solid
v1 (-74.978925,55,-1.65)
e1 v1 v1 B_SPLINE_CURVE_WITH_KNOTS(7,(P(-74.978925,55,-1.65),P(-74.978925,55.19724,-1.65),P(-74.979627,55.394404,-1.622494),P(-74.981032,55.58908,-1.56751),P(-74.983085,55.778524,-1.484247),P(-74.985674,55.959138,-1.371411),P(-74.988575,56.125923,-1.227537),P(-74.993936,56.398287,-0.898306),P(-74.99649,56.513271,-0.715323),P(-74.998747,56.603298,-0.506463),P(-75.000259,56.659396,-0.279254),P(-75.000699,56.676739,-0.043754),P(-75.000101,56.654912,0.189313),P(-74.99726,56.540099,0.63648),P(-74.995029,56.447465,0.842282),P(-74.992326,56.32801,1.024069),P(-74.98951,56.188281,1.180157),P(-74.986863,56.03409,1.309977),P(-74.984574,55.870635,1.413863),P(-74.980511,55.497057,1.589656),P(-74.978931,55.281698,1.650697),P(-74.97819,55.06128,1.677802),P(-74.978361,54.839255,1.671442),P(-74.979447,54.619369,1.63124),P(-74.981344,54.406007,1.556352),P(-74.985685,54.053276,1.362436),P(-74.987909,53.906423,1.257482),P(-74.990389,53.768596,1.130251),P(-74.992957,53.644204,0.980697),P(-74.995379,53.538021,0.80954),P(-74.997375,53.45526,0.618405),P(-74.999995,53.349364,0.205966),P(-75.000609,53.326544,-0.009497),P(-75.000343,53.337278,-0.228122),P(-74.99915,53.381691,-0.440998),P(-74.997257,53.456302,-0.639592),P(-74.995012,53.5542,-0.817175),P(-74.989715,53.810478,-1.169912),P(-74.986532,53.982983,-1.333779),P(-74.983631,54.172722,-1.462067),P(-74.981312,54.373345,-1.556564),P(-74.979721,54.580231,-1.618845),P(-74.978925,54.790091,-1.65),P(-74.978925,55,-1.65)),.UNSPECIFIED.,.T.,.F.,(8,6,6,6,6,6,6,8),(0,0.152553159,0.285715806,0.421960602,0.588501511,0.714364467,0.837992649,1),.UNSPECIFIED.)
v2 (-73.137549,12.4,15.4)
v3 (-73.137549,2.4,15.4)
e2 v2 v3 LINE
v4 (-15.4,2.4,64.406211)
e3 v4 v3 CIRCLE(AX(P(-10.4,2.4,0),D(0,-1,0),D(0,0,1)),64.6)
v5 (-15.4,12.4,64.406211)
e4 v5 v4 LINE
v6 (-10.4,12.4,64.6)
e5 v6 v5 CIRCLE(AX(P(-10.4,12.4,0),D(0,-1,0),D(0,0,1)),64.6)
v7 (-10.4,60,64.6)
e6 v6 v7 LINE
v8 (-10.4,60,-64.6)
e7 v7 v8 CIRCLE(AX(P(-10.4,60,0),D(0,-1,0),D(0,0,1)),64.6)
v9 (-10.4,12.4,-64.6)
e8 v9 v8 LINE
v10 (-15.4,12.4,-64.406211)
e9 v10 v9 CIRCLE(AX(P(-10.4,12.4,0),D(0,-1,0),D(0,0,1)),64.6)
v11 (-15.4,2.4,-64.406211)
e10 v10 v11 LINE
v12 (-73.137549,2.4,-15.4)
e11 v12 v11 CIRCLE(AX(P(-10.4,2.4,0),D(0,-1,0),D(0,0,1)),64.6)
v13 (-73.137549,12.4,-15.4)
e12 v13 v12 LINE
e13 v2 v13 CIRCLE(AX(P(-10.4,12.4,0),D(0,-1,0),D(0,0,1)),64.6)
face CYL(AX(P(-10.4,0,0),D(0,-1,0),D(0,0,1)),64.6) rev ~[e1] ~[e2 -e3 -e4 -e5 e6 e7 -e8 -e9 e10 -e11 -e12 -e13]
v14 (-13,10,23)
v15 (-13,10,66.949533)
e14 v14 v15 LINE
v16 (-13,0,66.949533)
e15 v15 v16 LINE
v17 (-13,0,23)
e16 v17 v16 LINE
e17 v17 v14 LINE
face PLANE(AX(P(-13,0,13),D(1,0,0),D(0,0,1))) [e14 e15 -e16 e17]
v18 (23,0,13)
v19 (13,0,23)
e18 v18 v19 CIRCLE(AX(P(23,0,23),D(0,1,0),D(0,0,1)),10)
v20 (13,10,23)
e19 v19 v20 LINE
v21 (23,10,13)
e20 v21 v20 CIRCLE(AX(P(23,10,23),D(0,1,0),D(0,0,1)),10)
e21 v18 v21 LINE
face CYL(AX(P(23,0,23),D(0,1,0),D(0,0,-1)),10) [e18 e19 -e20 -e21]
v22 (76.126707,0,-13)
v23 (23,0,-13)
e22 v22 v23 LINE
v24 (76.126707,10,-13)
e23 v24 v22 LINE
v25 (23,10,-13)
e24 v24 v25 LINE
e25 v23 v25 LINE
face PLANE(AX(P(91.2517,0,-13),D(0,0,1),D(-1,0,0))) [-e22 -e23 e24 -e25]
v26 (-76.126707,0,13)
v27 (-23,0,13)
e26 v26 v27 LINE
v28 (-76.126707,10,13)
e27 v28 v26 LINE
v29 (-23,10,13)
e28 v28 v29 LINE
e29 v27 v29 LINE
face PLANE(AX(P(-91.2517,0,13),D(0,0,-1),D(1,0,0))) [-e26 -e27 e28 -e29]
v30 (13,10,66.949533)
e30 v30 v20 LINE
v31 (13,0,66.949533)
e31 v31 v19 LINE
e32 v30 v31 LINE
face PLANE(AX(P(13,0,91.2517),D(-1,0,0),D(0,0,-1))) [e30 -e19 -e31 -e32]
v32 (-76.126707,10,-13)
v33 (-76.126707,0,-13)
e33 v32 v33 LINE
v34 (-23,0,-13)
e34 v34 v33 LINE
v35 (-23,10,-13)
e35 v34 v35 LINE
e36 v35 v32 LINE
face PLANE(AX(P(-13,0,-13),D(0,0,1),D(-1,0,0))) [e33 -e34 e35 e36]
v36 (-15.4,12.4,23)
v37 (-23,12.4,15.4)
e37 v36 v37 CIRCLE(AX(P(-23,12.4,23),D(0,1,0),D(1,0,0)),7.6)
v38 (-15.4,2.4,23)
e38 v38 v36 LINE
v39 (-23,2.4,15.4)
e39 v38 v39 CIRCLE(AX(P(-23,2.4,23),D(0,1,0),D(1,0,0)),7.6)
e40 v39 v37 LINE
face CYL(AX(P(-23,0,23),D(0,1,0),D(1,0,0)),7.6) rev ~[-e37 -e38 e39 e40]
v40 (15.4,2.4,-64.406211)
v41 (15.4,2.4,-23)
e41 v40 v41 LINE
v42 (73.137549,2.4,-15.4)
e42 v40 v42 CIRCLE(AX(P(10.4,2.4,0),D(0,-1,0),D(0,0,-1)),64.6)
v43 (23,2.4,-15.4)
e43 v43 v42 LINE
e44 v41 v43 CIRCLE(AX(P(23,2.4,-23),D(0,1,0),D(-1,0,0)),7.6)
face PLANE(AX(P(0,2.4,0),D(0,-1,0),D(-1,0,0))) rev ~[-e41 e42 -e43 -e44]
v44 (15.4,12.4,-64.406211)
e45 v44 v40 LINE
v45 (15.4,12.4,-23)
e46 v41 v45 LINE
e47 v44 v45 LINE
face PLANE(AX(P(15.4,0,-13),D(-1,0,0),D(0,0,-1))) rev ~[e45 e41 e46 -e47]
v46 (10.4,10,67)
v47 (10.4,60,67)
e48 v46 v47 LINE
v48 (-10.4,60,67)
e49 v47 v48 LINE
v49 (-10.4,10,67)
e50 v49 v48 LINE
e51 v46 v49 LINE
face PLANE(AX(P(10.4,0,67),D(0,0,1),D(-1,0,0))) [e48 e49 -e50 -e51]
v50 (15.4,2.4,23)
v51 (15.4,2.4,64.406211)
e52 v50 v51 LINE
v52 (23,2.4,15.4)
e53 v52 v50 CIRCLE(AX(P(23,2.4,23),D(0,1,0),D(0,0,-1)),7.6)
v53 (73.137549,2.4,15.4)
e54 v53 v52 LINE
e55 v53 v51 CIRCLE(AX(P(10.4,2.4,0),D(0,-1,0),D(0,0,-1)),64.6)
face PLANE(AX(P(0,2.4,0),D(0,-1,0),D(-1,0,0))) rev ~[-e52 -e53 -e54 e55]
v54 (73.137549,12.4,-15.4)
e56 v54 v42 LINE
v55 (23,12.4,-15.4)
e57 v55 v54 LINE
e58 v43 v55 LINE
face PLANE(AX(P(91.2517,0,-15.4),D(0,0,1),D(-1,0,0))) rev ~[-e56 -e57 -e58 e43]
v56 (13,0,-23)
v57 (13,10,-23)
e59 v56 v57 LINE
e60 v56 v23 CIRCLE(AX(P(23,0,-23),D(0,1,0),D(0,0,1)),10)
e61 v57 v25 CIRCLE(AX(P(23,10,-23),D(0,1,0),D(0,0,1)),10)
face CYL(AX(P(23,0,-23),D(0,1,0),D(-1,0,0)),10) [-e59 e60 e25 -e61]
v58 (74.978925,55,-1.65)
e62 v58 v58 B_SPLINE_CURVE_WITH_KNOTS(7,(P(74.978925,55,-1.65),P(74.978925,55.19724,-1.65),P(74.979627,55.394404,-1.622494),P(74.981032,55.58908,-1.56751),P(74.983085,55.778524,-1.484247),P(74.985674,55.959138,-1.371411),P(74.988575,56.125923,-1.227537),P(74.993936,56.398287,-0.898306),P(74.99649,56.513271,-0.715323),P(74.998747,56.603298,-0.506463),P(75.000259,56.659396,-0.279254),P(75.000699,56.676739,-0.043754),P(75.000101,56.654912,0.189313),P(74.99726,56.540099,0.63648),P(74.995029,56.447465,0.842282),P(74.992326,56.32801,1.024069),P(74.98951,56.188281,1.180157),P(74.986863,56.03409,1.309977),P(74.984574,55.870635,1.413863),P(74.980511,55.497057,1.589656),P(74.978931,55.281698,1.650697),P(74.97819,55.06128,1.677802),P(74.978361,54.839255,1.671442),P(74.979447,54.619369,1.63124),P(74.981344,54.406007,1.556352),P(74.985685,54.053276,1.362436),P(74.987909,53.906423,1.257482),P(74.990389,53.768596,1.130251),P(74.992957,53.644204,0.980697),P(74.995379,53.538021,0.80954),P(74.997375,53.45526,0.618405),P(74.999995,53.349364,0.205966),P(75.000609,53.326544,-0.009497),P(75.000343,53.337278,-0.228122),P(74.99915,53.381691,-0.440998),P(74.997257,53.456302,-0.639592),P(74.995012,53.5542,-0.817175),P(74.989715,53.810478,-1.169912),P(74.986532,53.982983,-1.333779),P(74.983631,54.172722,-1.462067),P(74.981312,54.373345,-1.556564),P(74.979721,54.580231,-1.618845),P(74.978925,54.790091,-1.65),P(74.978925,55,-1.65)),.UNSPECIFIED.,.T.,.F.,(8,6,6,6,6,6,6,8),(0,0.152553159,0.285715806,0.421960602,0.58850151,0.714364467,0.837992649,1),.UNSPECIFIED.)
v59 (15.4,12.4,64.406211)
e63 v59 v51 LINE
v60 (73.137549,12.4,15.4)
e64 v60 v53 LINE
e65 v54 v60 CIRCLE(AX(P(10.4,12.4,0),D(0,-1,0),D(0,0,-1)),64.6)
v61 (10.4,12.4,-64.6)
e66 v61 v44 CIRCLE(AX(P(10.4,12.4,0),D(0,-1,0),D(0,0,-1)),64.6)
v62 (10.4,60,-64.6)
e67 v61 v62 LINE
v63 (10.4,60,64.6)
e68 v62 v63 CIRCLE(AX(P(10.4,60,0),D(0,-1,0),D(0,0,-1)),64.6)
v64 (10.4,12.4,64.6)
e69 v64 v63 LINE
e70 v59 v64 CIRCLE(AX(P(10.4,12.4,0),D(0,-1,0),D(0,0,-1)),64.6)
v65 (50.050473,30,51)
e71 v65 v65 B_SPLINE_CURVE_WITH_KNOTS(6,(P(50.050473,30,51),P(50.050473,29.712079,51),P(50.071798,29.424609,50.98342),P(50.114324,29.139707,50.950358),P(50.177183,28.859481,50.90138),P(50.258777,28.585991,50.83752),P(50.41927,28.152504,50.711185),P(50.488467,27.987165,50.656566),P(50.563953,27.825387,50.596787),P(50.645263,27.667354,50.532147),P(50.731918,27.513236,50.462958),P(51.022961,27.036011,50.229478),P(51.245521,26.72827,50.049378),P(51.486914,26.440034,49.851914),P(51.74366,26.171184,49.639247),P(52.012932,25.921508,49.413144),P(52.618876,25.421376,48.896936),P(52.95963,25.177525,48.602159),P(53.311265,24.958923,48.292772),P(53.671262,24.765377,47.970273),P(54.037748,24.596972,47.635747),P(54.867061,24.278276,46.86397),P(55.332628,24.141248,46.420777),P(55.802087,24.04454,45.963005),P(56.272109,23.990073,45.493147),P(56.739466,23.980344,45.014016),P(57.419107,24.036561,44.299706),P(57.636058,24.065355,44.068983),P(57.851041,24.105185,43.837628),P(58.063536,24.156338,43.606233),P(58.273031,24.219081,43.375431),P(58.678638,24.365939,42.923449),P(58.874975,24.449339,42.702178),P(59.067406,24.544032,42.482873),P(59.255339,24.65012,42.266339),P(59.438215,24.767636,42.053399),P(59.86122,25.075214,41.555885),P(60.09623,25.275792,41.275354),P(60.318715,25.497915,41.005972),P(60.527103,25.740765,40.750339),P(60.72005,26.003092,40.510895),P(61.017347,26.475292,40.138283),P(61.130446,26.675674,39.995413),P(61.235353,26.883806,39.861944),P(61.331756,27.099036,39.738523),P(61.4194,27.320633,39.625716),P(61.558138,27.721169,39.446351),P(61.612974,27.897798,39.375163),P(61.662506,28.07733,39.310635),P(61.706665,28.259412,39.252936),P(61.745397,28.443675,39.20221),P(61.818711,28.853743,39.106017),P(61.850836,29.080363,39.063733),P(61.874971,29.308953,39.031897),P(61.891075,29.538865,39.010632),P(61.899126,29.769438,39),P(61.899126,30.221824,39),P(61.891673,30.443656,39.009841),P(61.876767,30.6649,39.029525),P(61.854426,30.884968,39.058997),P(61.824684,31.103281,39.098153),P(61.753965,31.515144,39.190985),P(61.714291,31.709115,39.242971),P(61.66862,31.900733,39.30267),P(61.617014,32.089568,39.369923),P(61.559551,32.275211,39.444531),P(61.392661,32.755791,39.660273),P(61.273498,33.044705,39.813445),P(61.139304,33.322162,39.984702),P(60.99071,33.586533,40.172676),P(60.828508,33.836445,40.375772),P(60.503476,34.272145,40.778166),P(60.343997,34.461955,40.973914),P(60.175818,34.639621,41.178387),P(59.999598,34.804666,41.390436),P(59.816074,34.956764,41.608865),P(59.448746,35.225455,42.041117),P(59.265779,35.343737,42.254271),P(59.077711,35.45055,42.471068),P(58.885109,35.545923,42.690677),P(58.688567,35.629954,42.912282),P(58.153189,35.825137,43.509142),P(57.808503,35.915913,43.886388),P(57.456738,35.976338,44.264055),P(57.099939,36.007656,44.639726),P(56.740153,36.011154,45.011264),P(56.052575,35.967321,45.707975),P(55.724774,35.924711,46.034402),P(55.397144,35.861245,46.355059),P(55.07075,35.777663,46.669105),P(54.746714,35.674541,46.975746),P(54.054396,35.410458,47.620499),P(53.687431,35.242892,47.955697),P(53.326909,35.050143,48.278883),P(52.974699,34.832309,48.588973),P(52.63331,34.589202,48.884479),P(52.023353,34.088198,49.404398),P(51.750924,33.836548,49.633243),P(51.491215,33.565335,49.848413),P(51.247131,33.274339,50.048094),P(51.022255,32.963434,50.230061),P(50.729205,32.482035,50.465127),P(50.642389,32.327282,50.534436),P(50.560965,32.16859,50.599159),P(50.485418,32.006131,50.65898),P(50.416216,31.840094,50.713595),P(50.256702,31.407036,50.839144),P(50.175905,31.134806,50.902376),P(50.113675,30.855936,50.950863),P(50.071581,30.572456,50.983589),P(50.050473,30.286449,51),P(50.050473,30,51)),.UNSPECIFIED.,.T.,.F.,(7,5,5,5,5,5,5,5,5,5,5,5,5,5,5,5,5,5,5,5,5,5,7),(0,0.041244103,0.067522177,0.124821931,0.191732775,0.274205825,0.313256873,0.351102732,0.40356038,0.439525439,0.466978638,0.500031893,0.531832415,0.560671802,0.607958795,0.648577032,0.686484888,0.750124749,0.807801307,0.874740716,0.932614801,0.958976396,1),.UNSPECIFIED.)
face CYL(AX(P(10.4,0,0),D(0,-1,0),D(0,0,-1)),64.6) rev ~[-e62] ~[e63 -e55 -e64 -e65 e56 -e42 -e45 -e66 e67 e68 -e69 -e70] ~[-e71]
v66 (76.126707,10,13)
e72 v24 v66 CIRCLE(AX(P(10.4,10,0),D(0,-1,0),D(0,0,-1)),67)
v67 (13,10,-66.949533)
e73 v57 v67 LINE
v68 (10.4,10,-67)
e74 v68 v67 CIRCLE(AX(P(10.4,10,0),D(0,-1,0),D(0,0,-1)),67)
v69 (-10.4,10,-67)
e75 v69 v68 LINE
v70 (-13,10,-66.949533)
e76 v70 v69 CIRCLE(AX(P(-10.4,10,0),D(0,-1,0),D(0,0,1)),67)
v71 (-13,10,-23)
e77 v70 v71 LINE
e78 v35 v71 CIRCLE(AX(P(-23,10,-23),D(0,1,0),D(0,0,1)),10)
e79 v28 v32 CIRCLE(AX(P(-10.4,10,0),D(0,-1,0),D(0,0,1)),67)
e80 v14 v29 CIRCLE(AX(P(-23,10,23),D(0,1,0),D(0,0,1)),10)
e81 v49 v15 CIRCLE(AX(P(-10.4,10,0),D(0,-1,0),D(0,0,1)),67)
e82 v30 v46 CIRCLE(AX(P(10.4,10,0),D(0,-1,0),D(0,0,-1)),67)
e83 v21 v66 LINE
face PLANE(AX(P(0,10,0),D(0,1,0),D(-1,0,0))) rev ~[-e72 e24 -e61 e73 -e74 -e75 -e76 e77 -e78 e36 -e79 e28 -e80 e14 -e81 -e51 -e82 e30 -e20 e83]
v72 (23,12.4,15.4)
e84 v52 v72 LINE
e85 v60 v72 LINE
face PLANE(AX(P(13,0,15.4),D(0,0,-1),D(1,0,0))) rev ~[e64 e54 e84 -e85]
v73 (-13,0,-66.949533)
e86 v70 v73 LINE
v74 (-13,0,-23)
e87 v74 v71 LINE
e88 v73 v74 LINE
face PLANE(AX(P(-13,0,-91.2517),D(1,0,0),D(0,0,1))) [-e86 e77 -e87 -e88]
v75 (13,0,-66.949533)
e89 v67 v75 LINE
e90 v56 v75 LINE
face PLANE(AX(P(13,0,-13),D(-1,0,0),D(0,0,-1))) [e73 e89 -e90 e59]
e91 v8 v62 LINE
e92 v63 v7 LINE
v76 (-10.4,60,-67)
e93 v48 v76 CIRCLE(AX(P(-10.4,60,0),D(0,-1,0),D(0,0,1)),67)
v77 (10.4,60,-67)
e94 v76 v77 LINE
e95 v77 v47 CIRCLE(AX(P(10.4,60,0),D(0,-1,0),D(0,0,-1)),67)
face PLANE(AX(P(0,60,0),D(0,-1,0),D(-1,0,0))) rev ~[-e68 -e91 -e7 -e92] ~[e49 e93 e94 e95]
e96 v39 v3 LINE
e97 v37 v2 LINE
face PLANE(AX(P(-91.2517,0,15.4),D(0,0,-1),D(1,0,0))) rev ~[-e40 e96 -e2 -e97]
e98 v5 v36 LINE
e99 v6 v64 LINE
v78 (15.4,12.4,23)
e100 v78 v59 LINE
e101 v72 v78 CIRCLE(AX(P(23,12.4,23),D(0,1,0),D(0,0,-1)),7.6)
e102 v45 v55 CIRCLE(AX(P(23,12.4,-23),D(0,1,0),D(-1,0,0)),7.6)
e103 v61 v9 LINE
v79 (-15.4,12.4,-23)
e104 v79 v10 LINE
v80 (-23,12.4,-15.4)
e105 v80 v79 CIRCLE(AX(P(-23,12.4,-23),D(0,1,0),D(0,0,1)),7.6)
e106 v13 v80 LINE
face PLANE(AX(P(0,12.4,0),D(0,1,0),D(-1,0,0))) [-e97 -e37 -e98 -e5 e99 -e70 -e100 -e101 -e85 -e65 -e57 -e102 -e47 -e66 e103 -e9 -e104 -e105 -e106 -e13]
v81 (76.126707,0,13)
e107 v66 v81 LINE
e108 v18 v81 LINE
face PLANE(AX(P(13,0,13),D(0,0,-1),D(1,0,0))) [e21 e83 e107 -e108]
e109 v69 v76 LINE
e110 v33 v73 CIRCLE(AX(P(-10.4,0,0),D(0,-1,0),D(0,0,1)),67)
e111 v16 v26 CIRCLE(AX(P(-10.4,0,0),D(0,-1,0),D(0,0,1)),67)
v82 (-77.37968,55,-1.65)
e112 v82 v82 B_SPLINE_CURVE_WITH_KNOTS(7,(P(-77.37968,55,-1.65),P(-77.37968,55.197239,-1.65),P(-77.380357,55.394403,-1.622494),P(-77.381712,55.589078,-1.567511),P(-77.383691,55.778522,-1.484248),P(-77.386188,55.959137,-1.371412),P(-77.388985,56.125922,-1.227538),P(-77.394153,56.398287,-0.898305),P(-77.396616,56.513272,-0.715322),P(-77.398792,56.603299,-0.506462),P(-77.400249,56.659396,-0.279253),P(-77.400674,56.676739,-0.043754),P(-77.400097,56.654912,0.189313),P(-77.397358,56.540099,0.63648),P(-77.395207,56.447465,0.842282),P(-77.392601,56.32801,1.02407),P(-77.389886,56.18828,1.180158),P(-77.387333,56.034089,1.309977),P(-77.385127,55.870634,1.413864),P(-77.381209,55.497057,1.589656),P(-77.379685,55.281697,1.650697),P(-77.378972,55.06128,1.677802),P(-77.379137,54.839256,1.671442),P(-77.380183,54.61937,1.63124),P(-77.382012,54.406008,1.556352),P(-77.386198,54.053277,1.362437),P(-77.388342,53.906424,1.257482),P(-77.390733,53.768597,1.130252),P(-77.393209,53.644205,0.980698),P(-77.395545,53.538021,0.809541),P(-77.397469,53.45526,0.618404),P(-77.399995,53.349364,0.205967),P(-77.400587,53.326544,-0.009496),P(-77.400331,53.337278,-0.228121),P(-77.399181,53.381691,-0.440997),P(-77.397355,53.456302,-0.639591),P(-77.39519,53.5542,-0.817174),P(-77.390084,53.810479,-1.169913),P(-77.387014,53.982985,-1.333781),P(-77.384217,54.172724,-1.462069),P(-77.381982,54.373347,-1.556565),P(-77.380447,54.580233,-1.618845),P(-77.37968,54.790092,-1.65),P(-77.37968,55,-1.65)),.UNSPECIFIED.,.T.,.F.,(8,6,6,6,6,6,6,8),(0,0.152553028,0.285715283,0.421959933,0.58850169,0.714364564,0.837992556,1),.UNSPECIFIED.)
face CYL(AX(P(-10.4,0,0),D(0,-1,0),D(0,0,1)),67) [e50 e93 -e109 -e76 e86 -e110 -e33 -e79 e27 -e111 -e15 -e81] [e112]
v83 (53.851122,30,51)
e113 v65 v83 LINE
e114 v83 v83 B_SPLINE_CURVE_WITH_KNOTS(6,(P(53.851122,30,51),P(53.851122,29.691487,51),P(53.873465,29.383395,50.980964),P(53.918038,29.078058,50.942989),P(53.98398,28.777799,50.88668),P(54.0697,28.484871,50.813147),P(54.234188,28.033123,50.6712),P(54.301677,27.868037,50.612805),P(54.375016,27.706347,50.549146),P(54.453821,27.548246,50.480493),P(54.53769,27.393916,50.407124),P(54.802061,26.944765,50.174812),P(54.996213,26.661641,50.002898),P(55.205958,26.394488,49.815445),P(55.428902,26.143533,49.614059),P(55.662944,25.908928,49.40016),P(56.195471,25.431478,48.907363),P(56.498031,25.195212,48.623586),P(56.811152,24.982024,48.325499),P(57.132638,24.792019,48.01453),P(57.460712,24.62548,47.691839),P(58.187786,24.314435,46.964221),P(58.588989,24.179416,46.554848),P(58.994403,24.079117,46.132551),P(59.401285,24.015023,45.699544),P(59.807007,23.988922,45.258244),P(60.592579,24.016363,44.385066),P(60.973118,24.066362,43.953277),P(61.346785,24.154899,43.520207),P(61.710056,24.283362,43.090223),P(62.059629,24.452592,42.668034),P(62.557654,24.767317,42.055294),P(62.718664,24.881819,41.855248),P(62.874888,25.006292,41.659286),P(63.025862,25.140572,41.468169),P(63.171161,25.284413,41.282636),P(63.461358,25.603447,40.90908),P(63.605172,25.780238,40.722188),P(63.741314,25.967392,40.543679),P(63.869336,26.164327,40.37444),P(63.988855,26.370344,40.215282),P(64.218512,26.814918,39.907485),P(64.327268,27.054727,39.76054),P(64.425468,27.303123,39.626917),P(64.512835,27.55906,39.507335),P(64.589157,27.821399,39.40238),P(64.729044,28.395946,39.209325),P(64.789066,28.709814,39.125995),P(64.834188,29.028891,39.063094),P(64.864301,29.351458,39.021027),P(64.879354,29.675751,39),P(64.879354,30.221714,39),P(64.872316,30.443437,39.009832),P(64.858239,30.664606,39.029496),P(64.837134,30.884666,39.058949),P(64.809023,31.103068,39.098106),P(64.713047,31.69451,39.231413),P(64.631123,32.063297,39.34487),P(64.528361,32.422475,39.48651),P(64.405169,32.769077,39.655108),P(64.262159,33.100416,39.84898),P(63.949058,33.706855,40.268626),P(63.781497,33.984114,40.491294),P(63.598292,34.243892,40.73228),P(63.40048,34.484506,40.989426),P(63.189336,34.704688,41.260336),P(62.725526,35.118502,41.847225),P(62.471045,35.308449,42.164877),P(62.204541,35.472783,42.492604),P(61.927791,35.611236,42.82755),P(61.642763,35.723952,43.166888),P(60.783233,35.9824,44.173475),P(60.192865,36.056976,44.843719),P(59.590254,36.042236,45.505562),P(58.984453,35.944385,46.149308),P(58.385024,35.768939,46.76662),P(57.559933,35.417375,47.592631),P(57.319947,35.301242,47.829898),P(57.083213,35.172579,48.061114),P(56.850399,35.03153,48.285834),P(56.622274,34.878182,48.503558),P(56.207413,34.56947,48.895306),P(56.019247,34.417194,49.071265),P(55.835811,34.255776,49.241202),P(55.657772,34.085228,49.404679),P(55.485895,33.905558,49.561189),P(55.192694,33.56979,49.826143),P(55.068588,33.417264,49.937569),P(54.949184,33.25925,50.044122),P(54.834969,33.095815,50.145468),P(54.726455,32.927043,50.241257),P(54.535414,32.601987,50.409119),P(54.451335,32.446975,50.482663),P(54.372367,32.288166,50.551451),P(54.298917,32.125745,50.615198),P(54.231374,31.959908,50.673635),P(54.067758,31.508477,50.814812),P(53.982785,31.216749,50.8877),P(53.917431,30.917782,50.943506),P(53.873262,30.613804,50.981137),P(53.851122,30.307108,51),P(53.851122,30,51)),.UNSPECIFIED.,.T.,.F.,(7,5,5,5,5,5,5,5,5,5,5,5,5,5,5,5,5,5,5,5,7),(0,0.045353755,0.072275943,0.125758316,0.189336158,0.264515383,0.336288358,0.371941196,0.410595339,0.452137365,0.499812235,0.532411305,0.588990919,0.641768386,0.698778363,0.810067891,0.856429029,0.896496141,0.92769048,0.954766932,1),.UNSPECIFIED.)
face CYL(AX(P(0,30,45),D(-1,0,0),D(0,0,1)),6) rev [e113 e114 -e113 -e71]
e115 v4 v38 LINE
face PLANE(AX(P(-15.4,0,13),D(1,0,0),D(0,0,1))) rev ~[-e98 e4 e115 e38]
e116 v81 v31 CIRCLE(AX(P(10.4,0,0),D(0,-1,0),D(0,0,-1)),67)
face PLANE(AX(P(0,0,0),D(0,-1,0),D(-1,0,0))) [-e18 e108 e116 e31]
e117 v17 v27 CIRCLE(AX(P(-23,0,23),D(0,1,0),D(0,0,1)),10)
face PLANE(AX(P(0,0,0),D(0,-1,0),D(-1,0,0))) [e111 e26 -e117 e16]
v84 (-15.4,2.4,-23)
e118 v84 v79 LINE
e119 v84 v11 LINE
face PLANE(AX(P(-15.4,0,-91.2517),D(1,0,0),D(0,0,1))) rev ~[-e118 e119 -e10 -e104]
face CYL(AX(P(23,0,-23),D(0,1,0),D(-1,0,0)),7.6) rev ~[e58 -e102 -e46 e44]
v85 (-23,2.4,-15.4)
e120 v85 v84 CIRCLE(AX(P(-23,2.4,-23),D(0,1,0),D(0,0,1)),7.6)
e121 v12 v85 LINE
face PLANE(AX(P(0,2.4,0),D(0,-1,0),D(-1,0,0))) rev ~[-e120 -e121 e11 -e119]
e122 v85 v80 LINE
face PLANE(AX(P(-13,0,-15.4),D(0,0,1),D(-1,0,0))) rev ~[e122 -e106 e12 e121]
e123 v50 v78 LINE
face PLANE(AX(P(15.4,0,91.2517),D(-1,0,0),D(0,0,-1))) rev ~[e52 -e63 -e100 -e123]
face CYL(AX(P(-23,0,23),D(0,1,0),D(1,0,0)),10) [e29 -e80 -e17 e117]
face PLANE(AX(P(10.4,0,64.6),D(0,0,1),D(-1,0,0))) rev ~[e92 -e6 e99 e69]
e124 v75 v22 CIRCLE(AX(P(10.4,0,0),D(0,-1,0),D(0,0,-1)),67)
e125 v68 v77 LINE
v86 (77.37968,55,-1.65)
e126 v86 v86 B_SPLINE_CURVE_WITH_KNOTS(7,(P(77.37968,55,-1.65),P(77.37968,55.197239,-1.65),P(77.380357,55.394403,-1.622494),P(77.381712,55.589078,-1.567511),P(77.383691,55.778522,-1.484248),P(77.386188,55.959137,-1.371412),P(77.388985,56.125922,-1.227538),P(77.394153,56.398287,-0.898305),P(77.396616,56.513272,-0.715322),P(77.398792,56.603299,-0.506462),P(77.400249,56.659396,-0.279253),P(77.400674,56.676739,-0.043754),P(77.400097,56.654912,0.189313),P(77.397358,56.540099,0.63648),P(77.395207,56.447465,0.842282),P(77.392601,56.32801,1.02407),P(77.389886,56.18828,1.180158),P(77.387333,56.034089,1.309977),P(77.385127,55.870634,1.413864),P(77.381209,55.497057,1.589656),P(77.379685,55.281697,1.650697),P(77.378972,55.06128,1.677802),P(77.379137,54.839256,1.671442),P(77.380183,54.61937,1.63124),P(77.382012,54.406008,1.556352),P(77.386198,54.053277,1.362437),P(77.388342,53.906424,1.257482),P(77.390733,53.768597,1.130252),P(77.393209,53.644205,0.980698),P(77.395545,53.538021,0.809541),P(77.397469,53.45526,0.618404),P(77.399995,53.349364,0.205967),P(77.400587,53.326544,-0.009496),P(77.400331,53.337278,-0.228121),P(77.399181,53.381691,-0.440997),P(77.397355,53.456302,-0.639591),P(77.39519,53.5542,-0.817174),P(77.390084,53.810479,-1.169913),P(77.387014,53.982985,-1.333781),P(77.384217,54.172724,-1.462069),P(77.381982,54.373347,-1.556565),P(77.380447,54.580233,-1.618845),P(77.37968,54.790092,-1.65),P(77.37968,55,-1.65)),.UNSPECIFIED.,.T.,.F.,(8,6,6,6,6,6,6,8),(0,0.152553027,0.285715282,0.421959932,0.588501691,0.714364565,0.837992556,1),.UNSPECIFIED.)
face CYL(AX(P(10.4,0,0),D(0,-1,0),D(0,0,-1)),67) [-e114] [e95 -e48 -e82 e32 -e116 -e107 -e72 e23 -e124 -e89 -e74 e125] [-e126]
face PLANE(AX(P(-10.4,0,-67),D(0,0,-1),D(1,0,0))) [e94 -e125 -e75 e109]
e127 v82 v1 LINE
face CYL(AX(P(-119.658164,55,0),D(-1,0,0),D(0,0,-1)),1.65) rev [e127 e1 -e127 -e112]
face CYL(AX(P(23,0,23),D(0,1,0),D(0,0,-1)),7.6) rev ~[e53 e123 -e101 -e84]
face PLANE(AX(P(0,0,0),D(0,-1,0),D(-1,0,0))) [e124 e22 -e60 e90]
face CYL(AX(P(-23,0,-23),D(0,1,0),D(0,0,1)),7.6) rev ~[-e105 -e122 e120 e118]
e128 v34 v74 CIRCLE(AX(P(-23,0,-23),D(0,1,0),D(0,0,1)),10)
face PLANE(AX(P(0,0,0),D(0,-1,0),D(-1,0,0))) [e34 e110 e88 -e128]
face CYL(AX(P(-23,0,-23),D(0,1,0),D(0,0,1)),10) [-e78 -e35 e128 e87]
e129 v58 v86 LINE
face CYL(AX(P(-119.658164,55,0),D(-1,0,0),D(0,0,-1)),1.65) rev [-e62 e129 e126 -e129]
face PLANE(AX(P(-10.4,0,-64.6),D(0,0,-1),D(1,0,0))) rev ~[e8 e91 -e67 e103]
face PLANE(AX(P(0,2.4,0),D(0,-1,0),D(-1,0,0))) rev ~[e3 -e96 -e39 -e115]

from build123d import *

# Parameters (mm, degrees)
BOSS_EXTRUDE1_DEPTH     = 60
CUT_EXTRUDE1_DEPTH      = 10
FILLET1_R               = 10
SHELL1_T                = -2.4
CUT_EXTRUDE2_DEPTH      = 119.658164489
CUT_EXTRUDE2_DEPTH_BACK = 119.658164489
SKETCH3_R               = 1.65
SKETCH4_R               = 6
CUT_EXTRUDE3_DEPTH      = 119.658164667


with BuildPart() as part:
    # Sketch1 → Boss-Extrude1 (new body)
    with BuildSketch(Plane(origin=(0, 0, 0), x_dir=(1, 0, 0), z_dir=(0, 1, 0))):
        with BuildLine():
            Line((-10.4, 67), (10.4, 67))
            ThreePointArc((10.4, 67), (77.4, 0), (10.4, -67))
            Line((10.4, -67), (-10.4, -67))
            ThreePointArc((-10.4, -67), (-77.4, 0), (-10.4, 67))
        make_face()
    extrude(amount=BOSS_EXTRUDE1_DEPTH)

    # Sketch2 → Cut-Extrude1 (cut)
    with BuildSketch(Plane.XZ):
        Polygon((-91.251700072, 13), (-13, 13), (-13, 91.251700072), (13, 91.251700072), (13, 13), (91.251700072, 13), (91.251700072, -13), (13, -13), (13, -91.251700072), (-13, -91.251700072), (-13, -13), (-91.251700072, -13), align=None)
    extrude(amount=-CUT_EXTRUDE1_DEPTH, mode=Mode.SUBTRACT)

    # Fillet1
    fillet1_edges = [part.edges().sort_by_distance(p)[0] for p in [
        (-13, 5, 13),
        (13, 5, 13),
        (13, 5, -13),
        (-13, 5, -13),
    ]]
    fillet(fillet1_edges, radius=FILLET1_R)

    # Shell1
    shell1_openings = [part.faces().sort_by_distance(p)[0] for p in [
        (0, 60, 0),
    ]]
    offset(amount=SHELL1_T, openings=shell1_openings, kind=Kind.INTERSECTION)

    # Sketch3 → Cut-Extrude2 (cut, two sides: drawn at the far end of the back side and taken through both)
    with BuildSketch(Plane(origin=(0, 0, 0), x_dir=(0, 0, -1), z_dir=(1, 0, 0)).offset(-CUT_EXTRUDE2_DEPTH_BACK)):
        with Locations((0, 55)):
            Circle(SKETCH3_R)
    extrude(amount=CUT_EXTRUDE2_DEPTH + CUT_EXTRUDE2_DEPTH_BACK, mode=Mode.SUBTRACT)

    # Sketch4 → Cut-Extrude3 (cut, through all)
    with BuildSketch(Plane(origin=(0, 0, 0), x_dir=(0, 0, -1), z_dir=(1, 0, 0))):
        with Locations(Location((-45, 30, 0), (0, 0, 180))):
            Circle(SKETCH4_R)
    extrude(amount=CUT_EXTRUDE3_DEPTH, mode=Mode.SUBTRACT)


solid = part.part
